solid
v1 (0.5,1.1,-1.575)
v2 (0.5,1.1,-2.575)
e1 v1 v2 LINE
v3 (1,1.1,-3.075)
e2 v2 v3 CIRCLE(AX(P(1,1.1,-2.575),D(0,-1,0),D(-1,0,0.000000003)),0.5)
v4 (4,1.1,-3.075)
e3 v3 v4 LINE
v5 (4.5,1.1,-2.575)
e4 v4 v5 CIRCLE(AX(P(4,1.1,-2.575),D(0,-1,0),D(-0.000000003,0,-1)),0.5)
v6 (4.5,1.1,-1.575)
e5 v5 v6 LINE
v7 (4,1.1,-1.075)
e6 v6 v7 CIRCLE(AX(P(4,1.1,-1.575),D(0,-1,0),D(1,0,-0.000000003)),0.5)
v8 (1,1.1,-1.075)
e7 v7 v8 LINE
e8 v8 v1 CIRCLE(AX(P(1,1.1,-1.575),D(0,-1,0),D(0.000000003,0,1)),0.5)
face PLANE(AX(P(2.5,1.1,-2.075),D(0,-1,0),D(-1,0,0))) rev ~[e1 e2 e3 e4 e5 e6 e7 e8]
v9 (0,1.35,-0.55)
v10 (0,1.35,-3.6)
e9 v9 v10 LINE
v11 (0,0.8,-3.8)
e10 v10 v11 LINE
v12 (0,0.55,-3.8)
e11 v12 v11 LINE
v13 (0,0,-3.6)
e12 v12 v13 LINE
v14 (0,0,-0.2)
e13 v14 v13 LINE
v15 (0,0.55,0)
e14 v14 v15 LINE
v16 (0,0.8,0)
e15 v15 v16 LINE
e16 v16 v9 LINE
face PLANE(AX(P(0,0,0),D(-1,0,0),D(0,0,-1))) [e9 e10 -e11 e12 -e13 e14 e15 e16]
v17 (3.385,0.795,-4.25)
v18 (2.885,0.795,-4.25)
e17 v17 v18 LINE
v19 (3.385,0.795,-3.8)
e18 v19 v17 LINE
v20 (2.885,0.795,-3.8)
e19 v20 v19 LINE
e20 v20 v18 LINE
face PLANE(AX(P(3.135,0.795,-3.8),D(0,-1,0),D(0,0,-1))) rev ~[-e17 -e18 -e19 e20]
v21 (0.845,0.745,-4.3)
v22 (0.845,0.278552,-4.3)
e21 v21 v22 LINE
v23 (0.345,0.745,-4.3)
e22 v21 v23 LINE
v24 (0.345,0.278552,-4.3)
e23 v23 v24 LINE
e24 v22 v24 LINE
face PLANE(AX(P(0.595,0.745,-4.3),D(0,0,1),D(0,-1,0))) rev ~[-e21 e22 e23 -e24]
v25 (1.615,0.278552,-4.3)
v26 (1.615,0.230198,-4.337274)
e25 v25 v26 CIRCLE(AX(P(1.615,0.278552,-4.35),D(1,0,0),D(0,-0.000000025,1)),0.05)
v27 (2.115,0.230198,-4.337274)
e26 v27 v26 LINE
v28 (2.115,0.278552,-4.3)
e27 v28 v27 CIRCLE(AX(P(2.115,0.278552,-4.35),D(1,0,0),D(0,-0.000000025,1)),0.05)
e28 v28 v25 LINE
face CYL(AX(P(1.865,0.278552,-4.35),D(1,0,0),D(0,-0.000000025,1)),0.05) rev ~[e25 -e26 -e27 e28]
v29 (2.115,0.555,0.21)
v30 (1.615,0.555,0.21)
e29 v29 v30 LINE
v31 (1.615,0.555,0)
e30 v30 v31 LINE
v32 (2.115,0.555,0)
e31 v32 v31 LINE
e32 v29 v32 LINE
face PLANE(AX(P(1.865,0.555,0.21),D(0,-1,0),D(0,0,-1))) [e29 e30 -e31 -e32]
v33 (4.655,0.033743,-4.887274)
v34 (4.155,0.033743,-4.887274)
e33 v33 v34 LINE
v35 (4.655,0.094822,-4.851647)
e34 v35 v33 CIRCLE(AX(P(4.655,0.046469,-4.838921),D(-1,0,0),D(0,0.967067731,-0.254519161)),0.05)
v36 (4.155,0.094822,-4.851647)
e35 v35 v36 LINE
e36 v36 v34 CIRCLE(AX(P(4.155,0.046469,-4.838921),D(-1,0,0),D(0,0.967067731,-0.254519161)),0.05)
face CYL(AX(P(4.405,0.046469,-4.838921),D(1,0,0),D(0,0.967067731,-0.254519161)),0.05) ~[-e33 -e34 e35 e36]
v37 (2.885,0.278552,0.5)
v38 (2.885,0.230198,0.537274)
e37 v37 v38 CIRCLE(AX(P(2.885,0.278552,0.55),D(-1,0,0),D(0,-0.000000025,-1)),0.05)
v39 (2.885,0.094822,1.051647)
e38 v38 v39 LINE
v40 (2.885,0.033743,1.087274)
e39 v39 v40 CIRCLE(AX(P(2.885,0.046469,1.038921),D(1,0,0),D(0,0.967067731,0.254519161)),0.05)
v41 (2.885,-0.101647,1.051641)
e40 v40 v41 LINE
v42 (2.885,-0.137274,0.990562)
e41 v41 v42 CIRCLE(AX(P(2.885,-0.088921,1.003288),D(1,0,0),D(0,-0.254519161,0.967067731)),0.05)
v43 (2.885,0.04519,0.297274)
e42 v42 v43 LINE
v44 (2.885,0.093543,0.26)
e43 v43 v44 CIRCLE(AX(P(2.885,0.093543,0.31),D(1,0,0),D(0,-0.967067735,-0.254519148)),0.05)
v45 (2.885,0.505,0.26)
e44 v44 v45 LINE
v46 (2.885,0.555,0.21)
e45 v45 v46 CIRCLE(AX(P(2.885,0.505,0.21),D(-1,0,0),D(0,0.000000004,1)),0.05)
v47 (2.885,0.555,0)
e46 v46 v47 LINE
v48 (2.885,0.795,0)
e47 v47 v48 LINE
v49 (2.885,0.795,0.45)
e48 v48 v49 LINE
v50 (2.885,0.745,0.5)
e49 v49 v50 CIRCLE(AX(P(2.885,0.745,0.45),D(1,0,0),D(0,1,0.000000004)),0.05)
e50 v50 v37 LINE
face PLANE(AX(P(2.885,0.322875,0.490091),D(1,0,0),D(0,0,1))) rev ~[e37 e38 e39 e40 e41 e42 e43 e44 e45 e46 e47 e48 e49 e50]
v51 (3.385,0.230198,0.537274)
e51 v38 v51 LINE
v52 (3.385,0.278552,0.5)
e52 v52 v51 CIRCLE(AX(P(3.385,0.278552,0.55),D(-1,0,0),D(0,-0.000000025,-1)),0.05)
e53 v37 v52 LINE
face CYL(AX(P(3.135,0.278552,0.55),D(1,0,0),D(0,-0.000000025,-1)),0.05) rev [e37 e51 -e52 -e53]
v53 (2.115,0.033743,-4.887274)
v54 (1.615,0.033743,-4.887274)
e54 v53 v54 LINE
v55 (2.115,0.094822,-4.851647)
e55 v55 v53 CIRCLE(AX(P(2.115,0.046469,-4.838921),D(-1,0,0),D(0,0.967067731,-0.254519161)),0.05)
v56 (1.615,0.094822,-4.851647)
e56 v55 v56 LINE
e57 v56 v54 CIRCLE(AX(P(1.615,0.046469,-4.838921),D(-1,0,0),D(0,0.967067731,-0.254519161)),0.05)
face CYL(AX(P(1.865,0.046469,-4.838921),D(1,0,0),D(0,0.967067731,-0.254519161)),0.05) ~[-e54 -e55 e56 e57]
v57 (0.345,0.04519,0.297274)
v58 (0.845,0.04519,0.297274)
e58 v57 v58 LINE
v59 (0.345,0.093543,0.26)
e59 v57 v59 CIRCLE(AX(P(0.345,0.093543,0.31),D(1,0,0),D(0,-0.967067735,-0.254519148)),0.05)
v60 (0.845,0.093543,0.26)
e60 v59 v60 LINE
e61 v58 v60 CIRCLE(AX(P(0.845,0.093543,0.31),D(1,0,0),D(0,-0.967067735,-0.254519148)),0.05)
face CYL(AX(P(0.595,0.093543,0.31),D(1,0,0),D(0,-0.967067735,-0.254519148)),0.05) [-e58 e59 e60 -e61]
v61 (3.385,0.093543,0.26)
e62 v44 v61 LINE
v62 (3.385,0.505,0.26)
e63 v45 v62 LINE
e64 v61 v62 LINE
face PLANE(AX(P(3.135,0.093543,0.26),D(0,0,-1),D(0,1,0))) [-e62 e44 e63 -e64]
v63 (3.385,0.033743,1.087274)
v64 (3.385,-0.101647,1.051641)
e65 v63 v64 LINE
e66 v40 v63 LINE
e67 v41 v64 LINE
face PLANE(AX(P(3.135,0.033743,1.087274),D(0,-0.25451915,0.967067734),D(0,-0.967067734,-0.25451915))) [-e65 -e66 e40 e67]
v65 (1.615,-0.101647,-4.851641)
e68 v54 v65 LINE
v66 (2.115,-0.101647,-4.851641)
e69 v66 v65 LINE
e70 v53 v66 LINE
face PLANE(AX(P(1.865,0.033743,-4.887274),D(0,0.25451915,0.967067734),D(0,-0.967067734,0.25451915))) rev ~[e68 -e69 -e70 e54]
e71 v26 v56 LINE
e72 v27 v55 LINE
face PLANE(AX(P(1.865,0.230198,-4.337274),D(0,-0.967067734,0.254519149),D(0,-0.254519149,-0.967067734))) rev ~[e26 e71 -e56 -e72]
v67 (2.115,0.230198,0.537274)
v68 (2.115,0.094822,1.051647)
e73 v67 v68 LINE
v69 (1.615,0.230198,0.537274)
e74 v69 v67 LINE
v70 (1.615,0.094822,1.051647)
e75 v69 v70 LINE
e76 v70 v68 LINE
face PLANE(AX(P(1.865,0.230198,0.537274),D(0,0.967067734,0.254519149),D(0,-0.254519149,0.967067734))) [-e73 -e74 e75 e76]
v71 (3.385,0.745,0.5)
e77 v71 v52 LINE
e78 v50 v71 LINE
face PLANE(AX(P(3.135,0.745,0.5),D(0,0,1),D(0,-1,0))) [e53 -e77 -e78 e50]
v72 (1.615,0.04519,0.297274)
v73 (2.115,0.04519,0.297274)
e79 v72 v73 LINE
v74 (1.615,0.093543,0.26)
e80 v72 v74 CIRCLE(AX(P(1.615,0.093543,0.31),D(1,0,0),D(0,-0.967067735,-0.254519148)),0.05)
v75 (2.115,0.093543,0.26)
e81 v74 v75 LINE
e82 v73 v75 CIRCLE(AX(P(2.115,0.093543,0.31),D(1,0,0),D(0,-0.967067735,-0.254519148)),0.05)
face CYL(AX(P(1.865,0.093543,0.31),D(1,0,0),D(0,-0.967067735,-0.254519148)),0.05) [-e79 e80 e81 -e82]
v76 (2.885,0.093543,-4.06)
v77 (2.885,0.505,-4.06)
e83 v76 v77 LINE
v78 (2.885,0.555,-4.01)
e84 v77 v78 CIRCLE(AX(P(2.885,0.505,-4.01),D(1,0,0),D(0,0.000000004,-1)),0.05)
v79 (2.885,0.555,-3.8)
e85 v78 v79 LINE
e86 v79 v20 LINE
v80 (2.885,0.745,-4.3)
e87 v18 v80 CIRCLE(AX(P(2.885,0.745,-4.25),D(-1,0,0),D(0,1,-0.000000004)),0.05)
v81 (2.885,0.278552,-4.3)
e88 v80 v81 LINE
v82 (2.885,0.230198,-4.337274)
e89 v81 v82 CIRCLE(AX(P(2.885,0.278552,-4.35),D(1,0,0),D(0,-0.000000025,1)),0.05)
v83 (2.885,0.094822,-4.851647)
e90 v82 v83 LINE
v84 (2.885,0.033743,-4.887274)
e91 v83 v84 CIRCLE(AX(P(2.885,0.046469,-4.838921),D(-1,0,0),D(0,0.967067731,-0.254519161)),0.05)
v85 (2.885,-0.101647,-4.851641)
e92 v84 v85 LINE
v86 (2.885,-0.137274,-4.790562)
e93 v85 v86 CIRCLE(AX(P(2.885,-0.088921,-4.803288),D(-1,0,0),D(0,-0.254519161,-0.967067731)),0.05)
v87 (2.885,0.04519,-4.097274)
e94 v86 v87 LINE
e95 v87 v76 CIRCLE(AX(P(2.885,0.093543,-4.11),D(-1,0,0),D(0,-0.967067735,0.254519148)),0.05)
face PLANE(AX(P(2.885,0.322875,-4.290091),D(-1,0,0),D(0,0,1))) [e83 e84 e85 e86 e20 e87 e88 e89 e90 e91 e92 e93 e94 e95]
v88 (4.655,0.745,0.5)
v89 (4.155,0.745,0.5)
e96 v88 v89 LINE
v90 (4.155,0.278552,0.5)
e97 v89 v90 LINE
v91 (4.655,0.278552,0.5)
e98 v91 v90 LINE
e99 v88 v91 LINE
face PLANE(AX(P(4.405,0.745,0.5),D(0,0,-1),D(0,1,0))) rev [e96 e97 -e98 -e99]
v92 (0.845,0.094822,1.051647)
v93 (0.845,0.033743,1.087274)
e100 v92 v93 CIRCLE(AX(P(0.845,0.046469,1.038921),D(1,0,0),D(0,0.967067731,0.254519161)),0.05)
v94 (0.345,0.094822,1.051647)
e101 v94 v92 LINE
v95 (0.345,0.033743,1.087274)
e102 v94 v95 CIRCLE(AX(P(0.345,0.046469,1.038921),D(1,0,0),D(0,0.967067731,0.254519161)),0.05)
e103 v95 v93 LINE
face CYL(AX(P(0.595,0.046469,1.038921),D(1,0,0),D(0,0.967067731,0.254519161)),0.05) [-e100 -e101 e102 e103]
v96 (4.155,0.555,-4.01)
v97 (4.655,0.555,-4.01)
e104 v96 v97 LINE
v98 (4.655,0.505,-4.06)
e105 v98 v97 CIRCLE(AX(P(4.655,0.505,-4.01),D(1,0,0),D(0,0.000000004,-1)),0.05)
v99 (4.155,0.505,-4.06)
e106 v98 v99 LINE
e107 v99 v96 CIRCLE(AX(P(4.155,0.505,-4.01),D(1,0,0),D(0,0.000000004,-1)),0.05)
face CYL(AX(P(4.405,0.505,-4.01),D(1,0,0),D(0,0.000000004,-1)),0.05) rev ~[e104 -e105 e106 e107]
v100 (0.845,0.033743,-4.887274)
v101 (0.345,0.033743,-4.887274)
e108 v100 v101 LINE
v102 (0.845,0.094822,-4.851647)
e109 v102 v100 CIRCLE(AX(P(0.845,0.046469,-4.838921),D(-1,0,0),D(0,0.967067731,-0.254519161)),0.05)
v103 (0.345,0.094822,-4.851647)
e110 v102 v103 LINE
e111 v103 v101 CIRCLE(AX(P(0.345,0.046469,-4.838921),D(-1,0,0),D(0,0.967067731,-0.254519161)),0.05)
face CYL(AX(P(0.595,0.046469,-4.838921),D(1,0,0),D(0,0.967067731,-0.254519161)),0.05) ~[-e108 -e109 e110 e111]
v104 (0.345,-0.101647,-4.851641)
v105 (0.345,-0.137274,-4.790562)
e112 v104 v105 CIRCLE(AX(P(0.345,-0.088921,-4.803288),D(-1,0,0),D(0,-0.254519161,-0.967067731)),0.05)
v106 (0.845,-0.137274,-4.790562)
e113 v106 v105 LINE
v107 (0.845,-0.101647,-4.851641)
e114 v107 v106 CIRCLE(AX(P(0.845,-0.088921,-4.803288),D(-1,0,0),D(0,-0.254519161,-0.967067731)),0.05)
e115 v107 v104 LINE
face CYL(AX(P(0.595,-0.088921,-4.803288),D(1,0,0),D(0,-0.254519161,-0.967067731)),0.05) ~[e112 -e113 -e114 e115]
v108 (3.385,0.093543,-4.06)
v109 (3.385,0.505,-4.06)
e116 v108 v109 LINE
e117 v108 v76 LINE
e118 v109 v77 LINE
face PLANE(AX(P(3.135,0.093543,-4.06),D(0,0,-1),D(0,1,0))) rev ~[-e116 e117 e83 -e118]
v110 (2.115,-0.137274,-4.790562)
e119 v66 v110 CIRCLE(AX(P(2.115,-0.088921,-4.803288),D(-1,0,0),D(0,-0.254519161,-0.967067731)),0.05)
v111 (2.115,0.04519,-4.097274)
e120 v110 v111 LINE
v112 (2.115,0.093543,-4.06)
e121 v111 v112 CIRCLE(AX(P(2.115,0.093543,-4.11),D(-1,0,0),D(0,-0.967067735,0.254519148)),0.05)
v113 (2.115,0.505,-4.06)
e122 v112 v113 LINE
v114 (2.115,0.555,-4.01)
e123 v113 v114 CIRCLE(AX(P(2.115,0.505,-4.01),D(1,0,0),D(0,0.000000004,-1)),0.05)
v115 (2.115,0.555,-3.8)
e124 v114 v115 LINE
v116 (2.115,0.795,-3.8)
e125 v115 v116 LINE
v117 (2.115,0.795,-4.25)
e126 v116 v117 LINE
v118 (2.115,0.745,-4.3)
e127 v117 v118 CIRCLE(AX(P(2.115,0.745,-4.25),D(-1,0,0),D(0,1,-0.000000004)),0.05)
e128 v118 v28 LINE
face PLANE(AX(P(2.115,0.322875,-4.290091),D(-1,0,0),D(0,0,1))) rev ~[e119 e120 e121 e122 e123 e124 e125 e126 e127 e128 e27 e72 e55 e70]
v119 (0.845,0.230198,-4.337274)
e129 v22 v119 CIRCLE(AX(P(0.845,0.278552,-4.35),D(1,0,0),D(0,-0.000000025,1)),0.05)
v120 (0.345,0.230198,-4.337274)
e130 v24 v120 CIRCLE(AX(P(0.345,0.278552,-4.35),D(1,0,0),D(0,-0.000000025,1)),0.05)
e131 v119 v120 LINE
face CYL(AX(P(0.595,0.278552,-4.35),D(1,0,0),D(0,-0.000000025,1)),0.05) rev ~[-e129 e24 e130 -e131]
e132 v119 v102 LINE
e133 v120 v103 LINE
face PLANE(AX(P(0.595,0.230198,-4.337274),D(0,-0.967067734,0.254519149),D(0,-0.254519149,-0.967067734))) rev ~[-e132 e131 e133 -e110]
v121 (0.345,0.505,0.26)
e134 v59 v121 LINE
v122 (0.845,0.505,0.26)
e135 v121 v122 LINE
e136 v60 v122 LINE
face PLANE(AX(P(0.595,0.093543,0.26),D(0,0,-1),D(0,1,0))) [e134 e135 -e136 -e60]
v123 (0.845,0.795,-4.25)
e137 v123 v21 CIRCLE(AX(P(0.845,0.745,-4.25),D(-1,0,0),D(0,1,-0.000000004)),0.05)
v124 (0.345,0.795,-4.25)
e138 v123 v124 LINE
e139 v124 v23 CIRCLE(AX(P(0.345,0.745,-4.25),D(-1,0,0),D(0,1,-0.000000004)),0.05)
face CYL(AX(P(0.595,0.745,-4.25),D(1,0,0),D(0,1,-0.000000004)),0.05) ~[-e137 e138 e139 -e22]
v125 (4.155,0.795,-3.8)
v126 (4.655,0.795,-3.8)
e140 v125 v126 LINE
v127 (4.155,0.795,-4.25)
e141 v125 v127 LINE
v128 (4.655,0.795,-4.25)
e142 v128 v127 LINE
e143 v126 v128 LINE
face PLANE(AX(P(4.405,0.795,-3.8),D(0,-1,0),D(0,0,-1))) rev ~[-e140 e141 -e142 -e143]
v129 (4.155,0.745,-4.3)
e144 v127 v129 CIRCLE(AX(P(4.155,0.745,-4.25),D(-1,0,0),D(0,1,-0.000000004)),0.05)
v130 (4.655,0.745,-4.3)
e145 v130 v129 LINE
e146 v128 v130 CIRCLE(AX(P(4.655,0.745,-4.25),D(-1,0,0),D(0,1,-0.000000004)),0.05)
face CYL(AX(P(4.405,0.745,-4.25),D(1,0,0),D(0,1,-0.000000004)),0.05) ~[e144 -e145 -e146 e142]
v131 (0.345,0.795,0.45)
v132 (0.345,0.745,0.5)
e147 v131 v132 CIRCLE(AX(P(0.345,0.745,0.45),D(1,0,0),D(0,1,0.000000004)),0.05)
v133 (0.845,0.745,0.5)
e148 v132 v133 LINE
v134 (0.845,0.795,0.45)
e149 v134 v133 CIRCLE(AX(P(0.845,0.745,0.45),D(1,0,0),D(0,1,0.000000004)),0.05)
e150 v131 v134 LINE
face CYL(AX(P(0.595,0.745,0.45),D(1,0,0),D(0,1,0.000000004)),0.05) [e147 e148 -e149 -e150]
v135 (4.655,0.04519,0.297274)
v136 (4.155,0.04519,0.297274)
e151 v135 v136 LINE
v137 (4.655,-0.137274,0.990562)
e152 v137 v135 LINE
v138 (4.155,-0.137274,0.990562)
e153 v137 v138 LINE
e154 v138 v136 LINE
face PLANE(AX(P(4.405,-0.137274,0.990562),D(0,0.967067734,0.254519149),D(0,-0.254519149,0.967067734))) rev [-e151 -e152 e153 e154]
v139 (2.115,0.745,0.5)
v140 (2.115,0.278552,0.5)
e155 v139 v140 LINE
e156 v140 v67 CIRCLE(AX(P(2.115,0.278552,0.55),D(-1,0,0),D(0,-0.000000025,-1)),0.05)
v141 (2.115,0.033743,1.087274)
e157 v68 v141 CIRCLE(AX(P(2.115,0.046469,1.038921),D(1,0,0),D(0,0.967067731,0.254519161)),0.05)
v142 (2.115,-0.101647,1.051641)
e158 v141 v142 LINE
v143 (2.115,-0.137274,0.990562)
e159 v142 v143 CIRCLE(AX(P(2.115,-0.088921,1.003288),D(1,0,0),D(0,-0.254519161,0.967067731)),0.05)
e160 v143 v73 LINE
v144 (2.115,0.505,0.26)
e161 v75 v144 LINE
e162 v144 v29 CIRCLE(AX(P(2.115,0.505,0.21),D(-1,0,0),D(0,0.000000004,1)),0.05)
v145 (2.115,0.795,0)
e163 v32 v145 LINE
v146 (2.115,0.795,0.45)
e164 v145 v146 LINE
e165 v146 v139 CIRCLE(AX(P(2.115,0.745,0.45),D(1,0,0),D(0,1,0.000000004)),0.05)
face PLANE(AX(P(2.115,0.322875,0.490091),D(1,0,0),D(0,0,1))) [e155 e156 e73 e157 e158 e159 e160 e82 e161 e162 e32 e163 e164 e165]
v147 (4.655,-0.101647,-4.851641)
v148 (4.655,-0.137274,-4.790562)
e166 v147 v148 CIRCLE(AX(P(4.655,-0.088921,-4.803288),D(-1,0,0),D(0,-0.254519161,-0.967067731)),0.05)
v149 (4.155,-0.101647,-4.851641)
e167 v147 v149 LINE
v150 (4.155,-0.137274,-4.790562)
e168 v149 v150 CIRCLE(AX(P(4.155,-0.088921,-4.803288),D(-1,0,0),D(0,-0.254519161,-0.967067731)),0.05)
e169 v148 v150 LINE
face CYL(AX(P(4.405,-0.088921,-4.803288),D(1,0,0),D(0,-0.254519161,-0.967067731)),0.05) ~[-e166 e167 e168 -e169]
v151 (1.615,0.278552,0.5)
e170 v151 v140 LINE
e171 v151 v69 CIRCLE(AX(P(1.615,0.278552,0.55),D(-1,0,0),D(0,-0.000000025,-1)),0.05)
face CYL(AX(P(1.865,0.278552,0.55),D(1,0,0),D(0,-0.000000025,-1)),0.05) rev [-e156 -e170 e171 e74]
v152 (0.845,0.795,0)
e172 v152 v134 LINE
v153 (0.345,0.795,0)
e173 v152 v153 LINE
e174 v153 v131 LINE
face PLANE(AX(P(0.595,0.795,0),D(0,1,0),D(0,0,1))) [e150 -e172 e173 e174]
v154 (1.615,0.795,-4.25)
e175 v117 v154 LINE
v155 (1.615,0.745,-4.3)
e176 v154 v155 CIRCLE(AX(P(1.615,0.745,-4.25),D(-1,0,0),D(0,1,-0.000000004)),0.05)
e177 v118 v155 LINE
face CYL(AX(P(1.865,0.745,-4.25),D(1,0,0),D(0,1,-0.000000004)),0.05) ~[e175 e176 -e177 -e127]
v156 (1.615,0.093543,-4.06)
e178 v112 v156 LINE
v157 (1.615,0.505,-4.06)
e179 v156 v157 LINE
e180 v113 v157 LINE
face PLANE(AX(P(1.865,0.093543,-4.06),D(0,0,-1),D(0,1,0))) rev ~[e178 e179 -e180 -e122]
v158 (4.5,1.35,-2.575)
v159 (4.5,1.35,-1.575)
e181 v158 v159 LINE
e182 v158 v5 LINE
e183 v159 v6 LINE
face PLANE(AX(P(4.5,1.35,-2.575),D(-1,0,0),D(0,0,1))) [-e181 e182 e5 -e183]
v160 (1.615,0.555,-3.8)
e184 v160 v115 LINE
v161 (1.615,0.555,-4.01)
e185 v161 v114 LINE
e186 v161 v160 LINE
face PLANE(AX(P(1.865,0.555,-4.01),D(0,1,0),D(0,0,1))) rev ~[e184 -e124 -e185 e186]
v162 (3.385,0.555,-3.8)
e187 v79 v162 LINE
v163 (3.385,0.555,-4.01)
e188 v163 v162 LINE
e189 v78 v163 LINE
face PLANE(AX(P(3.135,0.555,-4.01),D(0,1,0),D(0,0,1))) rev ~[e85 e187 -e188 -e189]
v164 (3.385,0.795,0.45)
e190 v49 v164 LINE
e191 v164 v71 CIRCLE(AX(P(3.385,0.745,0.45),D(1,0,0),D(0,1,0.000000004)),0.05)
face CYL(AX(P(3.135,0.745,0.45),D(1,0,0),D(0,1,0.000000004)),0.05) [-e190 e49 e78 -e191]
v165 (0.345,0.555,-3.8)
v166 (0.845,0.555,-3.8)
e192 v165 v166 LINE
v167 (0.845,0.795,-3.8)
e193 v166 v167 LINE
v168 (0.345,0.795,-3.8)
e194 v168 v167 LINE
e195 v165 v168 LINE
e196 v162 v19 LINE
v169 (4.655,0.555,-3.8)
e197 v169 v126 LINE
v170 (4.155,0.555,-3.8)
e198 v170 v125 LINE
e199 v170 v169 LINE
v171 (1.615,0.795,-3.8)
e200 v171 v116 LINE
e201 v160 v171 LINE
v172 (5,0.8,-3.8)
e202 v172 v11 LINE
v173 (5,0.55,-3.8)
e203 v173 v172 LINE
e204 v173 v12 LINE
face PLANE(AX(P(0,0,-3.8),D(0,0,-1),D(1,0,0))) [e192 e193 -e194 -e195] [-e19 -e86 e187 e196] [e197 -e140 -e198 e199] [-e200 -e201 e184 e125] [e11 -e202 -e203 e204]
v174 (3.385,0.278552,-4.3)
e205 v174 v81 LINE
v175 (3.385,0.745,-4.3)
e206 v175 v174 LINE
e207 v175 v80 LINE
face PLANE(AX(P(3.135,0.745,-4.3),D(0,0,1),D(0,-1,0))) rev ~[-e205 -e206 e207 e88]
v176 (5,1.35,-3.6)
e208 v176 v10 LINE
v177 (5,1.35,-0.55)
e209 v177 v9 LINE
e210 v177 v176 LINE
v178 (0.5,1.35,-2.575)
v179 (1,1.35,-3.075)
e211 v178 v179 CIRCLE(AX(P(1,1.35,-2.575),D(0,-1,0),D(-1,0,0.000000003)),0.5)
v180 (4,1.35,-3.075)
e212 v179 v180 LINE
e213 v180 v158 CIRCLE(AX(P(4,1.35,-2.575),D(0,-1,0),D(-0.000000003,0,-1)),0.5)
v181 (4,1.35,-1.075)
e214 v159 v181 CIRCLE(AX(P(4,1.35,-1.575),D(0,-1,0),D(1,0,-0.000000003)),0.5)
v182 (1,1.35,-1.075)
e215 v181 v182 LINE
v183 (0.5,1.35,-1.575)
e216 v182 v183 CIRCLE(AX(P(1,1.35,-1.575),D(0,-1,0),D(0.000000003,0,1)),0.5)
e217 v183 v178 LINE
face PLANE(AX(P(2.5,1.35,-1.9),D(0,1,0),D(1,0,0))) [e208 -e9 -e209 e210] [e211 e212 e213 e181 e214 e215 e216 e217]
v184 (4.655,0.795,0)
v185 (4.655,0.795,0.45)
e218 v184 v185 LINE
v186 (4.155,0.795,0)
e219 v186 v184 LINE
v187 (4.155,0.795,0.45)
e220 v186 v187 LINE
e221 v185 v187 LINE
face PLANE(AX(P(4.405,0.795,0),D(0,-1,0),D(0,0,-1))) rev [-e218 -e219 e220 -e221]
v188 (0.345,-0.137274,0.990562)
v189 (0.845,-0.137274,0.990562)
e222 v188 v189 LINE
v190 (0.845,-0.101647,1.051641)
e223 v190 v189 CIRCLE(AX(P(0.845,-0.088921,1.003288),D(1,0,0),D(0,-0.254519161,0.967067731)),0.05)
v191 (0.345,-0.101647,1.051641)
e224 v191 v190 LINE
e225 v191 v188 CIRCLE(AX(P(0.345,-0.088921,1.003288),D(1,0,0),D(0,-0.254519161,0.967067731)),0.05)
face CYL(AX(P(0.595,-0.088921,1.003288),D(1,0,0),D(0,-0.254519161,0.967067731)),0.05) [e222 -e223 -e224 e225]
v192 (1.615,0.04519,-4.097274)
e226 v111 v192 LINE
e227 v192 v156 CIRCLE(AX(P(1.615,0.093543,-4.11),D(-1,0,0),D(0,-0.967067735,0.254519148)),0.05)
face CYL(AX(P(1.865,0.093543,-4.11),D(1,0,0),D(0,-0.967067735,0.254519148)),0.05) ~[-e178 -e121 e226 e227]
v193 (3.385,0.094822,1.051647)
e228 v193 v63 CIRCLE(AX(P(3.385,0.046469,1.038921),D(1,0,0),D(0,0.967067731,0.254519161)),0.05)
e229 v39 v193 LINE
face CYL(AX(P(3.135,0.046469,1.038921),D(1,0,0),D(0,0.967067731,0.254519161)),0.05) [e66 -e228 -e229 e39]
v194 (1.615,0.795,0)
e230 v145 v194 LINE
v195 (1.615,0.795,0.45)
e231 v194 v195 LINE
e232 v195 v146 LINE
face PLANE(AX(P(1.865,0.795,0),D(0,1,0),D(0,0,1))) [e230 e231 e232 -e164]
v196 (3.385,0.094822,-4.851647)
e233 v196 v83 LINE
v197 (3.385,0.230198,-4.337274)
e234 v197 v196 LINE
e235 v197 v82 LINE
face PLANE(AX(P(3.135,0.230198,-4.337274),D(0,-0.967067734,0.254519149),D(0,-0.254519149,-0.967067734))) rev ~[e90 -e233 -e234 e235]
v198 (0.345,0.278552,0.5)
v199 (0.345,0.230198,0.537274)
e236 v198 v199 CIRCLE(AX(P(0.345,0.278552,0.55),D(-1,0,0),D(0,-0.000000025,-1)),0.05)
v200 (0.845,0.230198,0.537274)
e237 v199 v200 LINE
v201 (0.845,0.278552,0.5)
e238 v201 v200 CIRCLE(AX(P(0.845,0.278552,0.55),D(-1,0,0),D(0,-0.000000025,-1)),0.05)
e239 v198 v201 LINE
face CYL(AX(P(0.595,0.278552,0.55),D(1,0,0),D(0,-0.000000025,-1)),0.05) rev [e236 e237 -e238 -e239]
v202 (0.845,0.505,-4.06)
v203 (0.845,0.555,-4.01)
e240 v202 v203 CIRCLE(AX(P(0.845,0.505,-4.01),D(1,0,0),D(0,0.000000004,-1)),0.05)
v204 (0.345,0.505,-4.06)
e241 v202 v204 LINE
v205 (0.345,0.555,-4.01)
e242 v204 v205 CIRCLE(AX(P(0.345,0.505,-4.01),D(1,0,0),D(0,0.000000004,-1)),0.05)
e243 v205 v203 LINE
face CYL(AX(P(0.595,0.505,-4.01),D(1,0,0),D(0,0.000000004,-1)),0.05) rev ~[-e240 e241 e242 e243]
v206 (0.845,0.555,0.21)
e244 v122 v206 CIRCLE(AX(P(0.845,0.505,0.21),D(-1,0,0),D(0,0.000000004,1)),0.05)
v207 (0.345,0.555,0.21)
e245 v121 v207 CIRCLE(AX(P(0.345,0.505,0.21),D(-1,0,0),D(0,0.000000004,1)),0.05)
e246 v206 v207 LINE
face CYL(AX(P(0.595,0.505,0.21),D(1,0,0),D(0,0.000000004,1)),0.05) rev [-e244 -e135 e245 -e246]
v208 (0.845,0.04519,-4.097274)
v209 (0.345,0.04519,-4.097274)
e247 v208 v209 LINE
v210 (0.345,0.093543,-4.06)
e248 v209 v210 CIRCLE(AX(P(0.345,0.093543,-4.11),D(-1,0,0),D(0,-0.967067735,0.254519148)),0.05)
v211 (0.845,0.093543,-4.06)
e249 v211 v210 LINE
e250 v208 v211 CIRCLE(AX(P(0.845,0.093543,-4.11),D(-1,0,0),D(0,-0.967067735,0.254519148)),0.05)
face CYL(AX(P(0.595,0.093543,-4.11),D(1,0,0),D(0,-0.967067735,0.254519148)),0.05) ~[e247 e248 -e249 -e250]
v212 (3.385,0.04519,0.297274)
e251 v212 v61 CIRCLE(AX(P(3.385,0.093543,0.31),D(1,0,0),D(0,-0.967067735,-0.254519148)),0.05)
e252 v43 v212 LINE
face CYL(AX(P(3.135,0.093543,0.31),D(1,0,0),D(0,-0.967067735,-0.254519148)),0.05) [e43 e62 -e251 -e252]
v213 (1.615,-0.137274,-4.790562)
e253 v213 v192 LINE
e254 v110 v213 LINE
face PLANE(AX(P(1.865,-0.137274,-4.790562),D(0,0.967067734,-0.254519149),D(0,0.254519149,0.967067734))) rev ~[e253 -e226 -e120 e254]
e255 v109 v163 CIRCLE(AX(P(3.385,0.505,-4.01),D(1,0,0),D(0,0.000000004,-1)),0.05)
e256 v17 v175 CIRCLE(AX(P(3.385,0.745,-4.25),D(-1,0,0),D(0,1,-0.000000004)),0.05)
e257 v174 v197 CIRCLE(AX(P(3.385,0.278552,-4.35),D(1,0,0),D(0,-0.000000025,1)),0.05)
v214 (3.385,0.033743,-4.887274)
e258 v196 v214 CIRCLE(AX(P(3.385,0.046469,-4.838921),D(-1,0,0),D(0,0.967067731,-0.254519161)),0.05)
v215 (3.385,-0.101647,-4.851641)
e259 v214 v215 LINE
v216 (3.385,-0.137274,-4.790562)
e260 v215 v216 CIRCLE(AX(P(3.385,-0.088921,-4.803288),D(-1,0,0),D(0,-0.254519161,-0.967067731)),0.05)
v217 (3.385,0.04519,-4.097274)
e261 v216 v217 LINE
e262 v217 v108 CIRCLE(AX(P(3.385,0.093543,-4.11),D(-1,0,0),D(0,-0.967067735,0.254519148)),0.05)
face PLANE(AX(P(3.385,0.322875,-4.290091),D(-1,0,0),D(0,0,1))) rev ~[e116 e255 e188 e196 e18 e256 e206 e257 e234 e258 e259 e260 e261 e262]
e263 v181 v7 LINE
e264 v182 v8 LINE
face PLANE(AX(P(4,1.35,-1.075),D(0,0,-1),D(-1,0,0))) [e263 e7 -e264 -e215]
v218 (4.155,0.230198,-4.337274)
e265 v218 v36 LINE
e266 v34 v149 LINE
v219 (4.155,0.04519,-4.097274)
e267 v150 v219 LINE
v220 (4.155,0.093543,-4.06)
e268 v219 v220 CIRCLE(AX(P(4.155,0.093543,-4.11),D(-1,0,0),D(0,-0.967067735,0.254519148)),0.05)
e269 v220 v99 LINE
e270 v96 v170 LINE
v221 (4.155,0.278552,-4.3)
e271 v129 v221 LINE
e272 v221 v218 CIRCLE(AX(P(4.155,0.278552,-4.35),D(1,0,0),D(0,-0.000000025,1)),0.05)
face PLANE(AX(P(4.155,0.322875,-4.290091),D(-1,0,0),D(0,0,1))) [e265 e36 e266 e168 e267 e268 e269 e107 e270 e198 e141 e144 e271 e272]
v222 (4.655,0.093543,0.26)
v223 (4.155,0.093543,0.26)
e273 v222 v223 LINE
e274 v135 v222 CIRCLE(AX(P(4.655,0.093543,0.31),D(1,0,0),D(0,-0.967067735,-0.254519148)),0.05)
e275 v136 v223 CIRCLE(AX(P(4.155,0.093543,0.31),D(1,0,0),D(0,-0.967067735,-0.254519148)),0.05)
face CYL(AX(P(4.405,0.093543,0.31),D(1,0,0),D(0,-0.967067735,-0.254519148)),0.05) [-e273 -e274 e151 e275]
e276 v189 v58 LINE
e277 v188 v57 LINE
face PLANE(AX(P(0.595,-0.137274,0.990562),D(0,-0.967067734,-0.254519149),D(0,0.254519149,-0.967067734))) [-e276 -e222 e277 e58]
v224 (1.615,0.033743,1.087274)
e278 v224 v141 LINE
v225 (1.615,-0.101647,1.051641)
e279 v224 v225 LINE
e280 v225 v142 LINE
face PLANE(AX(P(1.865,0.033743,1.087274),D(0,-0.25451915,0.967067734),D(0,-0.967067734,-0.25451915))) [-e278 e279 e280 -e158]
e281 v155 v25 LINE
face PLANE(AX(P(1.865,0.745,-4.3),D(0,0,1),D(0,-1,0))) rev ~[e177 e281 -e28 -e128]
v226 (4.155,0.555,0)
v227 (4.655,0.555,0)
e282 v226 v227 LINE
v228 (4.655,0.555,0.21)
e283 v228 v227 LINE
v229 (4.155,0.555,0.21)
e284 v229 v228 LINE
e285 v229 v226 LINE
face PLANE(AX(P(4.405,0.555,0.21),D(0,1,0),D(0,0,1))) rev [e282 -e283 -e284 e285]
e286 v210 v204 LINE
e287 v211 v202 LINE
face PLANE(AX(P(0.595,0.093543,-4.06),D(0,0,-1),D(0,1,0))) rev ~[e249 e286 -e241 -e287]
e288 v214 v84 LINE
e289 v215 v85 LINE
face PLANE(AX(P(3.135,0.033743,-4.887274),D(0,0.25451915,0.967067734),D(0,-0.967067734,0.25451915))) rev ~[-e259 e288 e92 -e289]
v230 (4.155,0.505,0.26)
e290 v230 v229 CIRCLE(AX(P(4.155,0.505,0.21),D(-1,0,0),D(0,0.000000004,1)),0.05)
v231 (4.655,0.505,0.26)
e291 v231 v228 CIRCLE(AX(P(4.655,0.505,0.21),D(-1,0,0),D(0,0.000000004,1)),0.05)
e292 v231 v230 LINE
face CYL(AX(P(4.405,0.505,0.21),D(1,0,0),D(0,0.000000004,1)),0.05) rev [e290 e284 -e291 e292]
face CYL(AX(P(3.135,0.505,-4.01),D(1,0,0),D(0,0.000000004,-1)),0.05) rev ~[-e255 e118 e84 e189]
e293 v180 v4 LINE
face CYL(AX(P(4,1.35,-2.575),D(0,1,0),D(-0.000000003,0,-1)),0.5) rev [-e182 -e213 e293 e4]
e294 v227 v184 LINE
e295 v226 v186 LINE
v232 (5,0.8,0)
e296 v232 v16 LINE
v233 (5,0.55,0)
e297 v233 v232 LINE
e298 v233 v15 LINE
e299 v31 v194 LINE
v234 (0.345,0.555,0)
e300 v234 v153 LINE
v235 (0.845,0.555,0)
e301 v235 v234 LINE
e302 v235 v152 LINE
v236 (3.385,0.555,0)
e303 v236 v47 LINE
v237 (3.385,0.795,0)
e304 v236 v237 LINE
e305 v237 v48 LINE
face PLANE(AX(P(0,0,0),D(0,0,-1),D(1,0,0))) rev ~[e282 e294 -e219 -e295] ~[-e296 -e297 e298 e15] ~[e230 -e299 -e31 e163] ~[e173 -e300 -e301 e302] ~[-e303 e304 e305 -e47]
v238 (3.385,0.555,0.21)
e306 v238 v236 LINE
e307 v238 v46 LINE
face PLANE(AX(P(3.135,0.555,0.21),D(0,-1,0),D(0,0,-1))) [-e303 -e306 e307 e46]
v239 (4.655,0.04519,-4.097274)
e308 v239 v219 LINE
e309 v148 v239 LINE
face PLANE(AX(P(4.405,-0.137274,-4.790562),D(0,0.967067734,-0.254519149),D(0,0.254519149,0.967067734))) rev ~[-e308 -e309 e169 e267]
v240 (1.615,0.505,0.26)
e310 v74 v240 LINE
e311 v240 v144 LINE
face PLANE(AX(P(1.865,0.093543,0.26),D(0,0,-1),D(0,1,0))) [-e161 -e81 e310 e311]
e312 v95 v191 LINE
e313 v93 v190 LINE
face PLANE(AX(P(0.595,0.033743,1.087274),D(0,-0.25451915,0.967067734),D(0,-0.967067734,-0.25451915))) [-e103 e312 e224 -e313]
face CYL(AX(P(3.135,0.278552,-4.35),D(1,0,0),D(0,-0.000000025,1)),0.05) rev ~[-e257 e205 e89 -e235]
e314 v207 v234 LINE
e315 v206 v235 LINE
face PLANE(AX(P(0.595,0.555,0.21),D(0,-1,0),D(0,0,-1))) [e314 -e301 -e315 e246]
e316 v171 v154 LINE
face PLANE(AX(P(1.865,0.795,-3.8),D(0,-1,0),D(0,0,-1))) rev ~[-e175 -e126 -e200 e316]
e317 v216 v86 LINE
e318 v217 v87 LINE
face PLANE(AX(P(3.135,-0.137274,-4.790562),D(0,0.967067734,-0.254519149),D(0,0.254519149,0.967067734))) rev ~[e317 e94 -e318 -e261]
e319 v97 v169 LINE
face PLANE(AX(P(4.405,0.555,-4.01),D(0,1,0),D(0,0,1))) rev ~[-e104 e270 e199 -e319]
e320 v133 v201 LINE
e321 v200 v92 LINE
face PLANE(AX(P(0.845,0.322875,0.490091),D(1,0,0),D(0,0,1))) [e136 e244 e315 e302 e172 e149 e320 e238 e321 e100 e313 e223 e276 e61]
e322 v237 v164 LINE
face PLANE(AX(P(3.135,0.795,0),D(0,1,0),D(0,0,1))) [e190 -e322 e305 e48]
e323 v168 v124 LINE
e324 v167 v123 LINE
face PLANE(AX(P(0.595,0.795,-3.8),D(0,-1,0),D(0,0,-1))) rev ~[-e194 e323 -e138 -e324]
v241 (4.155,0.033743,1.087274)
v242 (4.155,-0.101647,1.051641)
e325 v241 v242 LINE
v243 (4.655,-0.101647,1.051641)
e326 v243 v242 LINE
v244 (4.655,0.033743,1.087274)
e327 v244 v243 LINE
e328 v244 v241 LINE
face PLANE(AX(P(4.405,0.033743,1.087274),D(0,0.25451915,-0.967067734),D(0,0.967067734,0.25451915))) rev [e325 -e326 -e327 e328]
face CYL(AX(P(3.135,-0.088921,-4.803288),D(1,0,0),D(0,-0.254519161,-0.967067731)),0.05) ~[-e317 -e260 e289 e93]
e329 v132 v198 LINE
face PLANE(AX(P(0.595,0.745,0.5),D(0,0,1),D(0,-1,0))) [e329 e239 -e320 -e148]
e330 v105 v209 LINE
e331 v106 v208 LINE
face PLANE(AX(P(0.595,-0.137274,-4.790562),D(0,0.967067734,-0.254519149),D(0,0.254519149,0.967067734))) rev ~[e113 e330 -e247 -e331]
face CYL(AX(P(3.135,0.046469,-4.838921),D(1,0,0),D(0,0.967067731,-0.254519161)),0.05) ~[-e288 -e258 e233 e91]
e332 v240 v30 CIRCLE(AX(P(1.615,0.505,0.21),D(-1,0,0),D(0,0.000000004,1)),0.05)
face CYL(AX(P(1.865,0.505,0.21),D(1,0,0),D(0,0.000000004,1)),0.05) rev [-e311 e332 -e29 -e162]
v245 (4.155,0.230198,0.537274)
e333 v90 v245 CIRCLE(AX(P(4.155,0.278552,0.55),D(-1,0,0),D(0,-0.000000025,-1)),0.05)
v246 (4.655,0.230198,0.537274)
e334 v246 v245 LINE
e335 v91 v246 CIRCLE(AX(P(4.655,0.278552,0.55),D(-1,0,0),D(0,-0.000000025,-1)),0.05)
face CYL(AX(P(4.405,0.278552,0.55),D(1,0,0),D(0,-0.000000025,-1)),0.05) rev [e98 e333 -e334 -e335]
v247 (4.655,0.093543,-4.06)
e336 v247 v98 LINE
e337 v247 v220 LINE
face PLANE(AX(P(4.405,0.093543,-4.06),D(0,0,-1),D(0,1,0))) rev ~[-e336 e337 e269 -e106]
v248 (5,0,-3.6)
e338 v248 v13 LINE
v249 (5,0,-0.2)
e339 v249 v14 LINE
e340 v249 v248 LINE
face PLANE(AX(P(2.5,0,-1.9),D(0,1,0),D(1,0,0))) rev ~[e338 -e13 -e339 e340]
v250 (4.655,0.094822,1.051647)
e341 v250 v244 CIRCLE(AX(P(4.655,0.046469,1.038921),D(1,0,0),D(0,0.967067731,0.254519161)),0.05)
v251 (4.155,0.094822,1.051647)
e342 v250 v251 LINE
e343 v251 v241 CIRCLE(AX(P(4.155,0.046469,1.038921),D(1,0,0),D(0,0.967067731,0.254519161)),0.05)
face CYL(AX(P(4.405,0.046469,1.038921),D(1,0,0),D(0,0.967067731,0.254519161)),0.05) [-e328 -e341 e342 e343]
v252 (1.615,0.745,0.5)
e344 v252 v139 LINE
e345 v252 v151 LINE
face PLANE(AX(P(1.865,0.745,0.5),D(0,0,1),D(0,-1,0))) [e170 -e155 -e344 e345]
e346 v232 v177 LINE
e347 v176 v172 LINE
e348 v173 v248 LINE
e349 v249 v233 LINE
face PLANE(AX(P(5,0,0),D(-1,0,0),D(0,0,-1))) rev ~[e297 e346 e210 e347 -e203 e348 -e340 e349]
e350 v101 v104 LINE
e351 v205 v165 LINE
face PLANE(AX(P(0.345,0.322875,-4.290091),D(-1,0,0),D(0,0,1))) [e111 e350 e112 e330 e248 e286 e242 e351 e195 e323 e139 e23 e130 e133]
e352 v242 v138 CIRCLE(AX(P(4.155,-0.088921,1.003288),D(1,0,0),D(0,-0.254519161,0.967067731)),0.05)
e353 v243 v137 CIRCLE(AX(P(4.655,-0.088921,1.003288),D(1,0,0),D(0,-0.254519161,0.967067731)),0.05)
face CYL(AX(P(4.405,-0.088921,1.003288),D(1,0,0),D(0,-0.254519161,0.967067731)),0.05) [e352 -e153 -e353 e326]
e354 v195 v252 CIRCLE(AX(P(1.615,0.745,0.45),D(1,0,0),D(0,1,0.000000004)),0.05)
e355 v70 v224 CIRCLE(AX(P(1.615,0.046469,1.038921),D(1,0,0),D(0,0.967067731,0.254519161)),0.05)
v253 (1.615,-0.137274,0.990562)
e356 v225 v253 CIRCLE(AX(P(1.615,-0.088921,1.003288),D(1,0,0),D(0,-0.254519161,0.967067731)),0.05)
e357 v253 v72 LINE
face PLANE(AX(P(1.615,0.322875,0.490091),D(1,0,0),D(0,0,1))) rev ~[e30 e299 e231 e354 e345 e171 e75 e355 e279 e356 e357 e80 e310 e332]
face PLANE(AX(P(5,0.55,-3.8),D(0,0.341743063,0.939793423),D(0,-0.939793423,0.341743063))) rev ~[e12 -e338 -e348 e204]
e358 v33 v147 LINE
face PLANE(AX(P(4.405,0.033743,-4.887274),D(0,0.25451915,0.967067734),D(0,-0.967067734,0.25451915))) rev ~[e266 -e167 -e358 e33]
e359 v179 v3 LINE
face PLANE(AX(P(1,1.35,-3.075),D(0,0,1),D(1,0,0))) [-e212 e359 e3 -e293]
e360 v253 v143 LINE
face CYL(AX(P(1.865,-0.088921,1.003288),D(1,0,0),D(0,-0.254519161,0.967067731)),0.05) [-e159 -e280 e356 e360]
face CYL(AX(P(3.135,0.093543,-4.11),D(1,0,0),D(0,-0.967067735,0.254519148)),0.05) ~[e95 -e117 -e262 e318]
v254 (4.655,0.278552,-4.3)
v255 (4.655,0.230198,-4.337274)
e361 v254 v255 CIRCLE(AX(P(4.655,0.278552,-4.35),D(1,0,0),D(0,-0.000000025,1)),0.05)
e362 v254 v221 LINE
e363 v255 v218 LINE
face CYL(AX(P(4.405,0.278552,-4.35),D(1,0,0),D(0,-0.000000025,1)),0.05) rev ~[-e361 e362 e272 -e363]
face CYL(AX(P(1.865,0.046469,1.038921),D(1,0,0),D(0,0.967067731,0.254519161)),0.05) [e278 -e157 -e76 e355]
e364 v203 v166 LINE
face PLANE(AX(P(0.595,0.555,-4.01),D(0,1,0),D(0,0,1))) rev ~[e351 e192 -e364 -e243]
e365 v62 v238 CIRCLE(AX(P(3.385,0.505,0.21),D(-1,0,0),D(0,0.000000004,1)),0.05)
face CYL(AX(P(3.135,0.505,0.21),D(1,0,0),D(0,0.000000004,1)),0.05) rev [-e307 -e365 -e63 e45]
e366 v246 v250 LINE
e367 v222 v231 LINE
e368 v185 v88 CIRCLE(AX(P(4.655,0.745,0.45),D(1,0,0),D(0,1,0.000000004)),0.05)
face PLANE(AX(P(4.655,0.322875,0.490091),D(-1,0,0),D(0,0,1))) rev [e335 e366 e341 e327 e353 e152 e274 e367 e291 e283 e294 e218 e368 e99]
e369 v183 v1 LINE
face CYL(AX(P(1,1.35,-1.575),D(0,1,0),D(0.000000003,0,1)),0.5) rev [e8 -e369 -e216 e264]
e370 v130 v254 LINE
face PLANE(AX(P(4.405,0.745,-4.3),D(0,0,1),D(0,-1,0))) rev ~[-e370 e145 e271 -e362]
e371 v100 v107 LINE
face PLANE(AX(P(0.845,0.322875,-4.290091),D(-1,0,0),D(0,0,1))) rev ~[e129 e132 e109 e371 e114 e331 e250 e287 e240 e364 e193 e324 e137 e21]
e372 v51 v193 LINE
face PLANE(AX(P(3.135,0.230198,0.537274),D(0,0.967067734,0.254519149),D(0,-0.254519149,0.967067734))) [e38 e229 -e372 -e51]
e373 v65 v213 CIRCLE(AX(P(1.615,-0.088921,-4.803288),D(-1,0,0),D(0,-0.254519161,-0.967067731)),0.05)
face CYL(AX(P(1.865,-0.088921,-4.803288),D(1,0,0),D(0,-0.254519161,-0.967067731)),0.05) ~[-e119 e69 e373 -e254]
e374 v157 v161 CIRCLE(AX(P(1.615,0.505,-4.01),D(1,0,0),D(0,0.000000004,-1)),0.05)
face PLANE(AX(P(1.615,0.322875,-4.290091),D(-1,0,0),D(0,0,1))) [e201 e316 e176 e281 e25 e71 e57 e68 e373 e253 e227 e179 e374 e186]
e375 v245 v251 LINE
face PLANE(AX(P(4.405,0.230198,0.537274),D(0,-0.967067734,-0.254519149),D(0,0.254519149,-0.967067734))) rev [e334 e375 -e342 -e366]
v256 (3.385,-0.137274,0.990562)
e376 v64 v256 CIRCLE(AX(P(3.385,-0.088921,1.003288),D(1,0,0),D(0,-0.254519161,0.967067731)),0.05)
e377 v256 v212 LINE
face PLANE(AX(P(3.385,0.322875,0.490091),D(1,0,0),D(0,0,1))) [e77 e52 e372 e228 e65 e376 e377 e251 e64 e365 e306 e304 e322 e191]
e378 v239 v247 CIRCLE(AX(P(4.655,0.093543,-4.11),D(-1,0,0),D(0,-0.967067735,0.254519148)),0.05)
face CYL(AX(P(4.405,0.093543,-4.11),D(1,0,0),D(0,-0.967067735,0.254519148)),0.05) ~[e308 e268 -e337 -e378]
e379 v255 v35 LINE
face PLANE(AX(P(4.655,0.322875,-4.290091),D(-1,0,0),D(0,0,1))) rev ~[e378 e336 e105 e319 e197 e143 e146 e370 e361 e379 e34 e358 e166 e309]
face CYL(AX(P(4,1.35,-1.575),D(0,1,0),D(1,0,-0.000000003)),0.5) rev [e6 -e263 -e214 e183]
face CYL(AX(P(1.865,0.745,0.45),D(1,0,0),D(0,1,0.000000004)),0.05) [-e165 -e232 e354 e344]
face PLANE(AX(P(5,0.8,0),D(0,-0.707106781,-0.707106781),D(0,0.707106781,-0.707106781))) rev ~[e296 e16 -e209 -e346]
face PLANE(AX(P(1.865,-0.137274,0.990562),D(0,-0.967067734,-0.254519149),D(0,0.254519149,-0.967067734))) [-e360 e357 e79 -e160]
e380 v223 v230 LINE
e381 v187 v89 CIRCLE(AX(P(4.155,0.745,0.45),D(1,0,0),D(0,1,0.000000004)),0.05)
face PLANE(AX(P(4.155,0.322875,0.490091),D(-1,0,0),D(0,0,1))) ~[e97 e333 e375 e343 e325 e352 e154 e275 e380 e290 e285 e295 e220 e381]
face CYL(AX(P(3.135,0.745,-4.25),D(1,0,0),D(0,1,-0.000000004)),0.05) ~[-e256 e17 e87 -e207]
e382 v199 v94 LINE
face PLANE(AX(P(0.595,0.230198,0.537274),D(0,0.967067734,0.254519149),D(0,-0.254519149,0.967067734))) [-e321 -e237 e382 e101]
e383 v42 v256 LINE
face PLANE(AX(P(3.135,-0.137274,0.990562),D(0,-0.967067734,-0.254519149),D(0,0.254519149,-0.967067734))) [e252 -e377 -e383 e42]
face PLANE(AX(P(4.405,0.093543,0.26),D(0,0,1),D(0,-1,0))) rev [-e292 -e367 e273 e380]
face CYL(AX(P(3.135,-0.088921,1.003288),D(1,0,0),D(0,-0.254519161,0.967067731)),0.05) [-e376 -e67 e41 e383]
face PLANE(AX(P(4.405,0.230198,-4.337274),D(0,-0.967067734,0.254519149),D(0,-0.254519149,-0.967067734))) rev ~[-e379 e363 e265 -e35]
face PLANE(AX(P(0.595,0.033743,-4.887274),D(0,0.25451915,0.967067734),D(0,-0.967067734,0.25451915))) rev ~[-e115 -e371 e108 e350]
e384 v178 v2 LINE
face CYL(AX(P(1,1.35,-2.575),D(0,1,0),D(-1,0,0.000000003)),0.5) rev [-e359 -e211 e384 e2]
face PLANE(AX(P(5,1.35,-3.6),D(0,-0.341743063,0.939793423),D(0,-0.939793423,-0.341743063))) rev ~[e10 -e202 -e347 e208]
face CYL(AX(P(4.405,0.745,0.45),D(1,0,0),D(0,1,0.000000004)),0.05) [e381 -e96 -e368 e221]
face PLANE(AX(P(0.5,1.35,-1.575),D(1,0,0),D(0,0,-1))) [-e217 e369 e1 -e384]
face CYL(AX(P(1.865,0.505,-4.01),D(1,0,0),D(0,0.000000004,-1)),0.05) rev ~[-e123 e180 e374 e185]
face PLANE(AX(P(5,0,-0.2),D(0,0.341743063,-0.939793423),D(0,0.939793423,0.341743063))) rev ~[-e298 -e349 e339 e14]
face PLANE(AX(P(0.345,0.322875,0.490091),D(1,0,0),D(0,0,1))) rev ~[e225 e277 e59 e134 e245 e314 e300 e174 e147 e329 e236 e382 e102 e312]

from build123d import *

# Parameters (mm, degrees)
SKETCH1_W            = 5
SKETCH1_H            = 3.8
BOSS_EXTRUDE1_DEPTH  = 1.35
CUT_EXTRUDE1_DEPTH   = 5
CUT_EXTRUDE2_DEPTH   = 0.25
BOSS_EXTRUDE2_DEPTH  = 0.25
LPATTERN1_COUNT      = 4
LPATTERN1_PITCH      = 1.27
MIRROR1_COPY_1_DEPTH = 0.25
MIRROR1_COPY_2_DEPTH = 0.25
MIRROR1_COPY_3_DEPTH = 0.25


with BuildPart() as part:
    # Sketch1 → Boss-Extrude1 (new body)
    with BuildSketch(Plane(origin=(0, 0, 0), x_dir=(1, 0, 0), z_dir=(0, 1, 0))):
        with Locations((2.5, 1.9)):
            Rectangle(SKETCH1_W, SKETCH1_H)
    extrude(amount=BOSS_EXTRUDE1_DEPTH)

    # Sketch2 → Cut-Extrude1 (cut)
    with BuildSketch(Plane(origin=(5, 0, 0), x_dir=(0, 0, -1), z_dir=(1, 0, 0))):
        Polygon((0, 0.8), (0.55, 1.35), (0, 1.35), align=None)
        Polygon((0.2, 0), (0, 0.55), (0, 0), align=None)
        Polygon((3.8, 0), (3.8, 0.55), (3.6, 0), align=None)
        Polygon((3.8, 1.35), (3.6, 1.35), (3.8, 0.8), align=None)
    extrude(amount=-CUT_EXTRUDE1_DEPTH, mode=Mode.SUBTRACT)

    # Sketch3 → Cut-Extrude2 (cut)
    with BuildSketch(Plane(origin=(0, 1.35, 0), x_dir=(1, 0, 0), z_dir=(0, 1, 0))):
        with BuildLine():
            Line((1, 3.075), (4, 3.075))
            ThreePointArc((4, 3.075), (4.353553391, 2.928553391), (4.5, 2.575))
            Line((4.5, 2.575), (4.5, 1.575))
            ThreePointArc((4.5, 1.575), (4.353553391, 1.221446609), (4, 1.075))
            Line((4, 1.075), (1, 1.075))
            ThreePointArc((1, 1.075), (0.646446609, 1.221446609), (0.5, 1.575))
            Line((0.5, 1.575), (0.5, 2.575))
            ThreePointArc((0.5, 2.575), (0.646446609, 2.928553391), (1, 3.075))
        make_face()
    extrude(amount=-CUT_EXTRUDE2_DEPTH, mode=Mode.SUBTRACT)

    # Sketch4 → Boss-Extrude2 (add, symmetric)
    with BuildSketch(Plane(origin=(4.405, 0, 0), x_dir=(0, 0, -1), z_dir=(1, 0, 0))):
        with BuildLine():
            Line((3.8, 0.795), (4.25, 0.795))
            ThreePointArc((4.25, 0.795), (4.285355339, 0.780355339), (4.3, 0.745))
            Line((4.3, 0.745), (4.3, 0.278551504))
            ThreePointArc((4.3, 0.278551504), (4.31040014, 0.248025269), (4.337274043, 0.230198118))
            Line((4.337274043, 0.230198118), (4.851646613, 0.094822214))
            ThreePointArc((4.851646613, 0.094822214), (4.882110274, 0.071661224), (4.887274043, 0.03374287))
            Line((4.887274043, 0.03374287), (4.851641362, -0.101646613))
            ThreePointArc((4.851641362, -0.101646613), (4.828480372, -0.132110274), (4.790562018, -0.137274043))
            Line((4.790562018, -0.137274043), (4.097274043, 0.045189976))
            ThreePointArc((4.097274043, 0.045189976), (4.07040014, 0.063017127), (4.06, 0.093543363))
            Line((4.06, 0.093543363), (4.06, 0.505))
            ThreePointArc((4.06, 0.505), (4.045355339, 0.540355339), (4.01, 0.555))
            Line((4.01, 0.555), (3.8, 0.555))
            Line((3.8, 0.555), (3.8, 0.795))
        make_face()
    boss_extrude2 = extrude(amount=BOSS_EXTRUDE2_DEPTH, both=True)

    # LPattern1: Boss-Extrude2 ×4
    with Locations(*[(-i * LPATTERN1_PITCH, 0, 0) for i in range(1, LPATTERN1_COUNT)]):
        add(boss_extrude2)

    # Mirror1: Boss-Extrude2 across plane
    add(boss_extrude2.mirror(Plane(origin=(0, 0, -1.9), x_dir=(1, 0, 0), z_dir=(0, 0, -1))))

    # Mirror1 copy 1 sketch → Mirror1 copy 1 (add, symmetric)
    with BuildSketch(Plane(origin=(3.135, 0, -3.8), x_dir=(0, 0, 1), z_dir=(1, 0, 0))):
        with BuildLine():
            Line((3.8, -0.795), (4.25, -0.795))
            ThreePointArc((4.25, -0.795), (4.285355339, -0.780355339), (4.3, -0.745))
            Line((4.3, -0.745), (4.3, -0.278551504))
            ThreePointArc((4.3, -0.278551504), (4.31040014, -0.248025269), (4.337274043, -0.230198118))
            Line((4.337274043, -0.230198118), (4.851646613, -0.094822214))
            ThreePointArc((4.851646613, -0.094822214), (4.882110274, -0.071661224), (4.887274043, -0.03374287))
            Line((4.887274043, -0.03374287), (4.851641362, 0.101646613))
            ThreePointArc((4.851641362, 0.101646613), (4.828480372, 0.132110274), (4.790562018, 0.137274043))
            Line((4.790562018, 0.137274043), (4.097274043, -0.045189976))
            ThreePointArc((4.097274043, -0.045189976), (4.07040014, -0.063017127), (4.06, -0.093543363))
            Line((4.06, -0.093543363), (4.06, -0.505))
            ThreePointArc((4.06, -0.505), (4.045355339, -0.540355339), (4.01, -0.555))
            Line((4.01, -0.555), (3.8, -0.555))
            Line((3.8, -0.555), (3.8, -0.795))
        make_face()
    extrude(amount=MIRROR1_COPY_1_DEPTH, both=True)

    # Mirror1 copy 2 sketch → Mirror1 copy 2 (add, symmetric)
    with BuildSketch(Plane(origin=(1.865, 0, -3.8), x_dir=(0, 0, 1), z_dir=(1, 0, 0))):
        with BuildLine():
            Line((3.8, -0.795), (4.25, -0.795))
            ThreePointArc((4.25, -0.795), (4.285355339, -0.780355339), (4.3, -0.745))
            Line((4.3, -0.745), (4.3, -0.278551504))
            ThreePointArc((4.3, -0.278551504), (4.31040014, -0.248025269), (4.337274043, -0.230198118))
            Line((4.337274043, -0.230198118), (4.851646613, -0.094822214))
            ThreePointArc((4.851646613, -0.094822214), (4.882110274, -0.071661224), (4.887274043, -0.03374287))
            Line((4.887274043, -0.03374287), (4.851641362, 0.101646613))
            ThreePointArc((4.851641362, 0.101646613), (4.828480372, 0.132110274), (4.790562018, 0.137274043))
            Line((4.790562018, 0.137274043), (4.097274043, -0.045189976))
            ThreePointArc((4.097274043, -0.045189976), (4.07040014, -0.063017127), (4.06, -0.093543363))
            Line((4.06, -0.093543363), (4.06, -0.505))
            ThreePointArc((4.06, -0.505), (4.045355339, -0.540355339), (4.01, -0.555))
            Line((4.01, -0.555), (3.8, -0.555))
            Line((3.8, -0.555), (3.8, -0.795))
        make_face()
    extrude(amount=MIRROR1_COPY_2_DEPTH, both=True)

    # Mirror1 copy 3 sketch → Mirror1 copy 3 (add, symmetric)
    with BuildSketch(Plane(origin=(0.595, 0, -3.8), x_dir=(0, 0, 1), z_dir=(1, 0, 0))):
        with BuildLine():
            Line((3.8, -0.795), (4.25, -0.795))
            ThreePointArc((4.25, -0.795), (4.285355339, -0.780355339), (4.3, -0.745))
            Line((4.3, -0.745), (4.3, -0.278551504))
            ThreePointArc((4.3, -0.278551504), (4.31040014, -0.248025269), (4.337274043, -0.230198118))
            Line((4.337274043, -0.230198118), (4.851646613, -0.094822214))
            ThreePointArc((4.851646613, -0.094822214), (4.882110274, -0.071661224), (4.887274043, -0.03374287))
            Line((4.887274043, -0.03374287), (4.851641362, 0.101646613))
            ThreePointArc((4.851641362, 0.101646613), (4.828480372, 0.132110274), (4.790562018, 0.137274043))
            Line((4.790562018, 0.137274043), (4.097274043, -0.045189976))
            ThreePointArc((4.097274043, -0.045189976), (4.07040014, -0.063017127), (4.06, -0.093543363))
            Line((4.06, -0.093543363), (4.06, -0.505))
            ThreePointArc((4.06, -0.505), (4.045355339, -0.540355339), (4.01, -0.555))
            Line((4.01, -0.555), (3.8, -0.555))
            Line((3.8, -0.555), (3.8, -0.795))
        make_face()
    extrude(amount=MIRROR1_COPY_3_DEPTH, both=True)


solid = part.part
